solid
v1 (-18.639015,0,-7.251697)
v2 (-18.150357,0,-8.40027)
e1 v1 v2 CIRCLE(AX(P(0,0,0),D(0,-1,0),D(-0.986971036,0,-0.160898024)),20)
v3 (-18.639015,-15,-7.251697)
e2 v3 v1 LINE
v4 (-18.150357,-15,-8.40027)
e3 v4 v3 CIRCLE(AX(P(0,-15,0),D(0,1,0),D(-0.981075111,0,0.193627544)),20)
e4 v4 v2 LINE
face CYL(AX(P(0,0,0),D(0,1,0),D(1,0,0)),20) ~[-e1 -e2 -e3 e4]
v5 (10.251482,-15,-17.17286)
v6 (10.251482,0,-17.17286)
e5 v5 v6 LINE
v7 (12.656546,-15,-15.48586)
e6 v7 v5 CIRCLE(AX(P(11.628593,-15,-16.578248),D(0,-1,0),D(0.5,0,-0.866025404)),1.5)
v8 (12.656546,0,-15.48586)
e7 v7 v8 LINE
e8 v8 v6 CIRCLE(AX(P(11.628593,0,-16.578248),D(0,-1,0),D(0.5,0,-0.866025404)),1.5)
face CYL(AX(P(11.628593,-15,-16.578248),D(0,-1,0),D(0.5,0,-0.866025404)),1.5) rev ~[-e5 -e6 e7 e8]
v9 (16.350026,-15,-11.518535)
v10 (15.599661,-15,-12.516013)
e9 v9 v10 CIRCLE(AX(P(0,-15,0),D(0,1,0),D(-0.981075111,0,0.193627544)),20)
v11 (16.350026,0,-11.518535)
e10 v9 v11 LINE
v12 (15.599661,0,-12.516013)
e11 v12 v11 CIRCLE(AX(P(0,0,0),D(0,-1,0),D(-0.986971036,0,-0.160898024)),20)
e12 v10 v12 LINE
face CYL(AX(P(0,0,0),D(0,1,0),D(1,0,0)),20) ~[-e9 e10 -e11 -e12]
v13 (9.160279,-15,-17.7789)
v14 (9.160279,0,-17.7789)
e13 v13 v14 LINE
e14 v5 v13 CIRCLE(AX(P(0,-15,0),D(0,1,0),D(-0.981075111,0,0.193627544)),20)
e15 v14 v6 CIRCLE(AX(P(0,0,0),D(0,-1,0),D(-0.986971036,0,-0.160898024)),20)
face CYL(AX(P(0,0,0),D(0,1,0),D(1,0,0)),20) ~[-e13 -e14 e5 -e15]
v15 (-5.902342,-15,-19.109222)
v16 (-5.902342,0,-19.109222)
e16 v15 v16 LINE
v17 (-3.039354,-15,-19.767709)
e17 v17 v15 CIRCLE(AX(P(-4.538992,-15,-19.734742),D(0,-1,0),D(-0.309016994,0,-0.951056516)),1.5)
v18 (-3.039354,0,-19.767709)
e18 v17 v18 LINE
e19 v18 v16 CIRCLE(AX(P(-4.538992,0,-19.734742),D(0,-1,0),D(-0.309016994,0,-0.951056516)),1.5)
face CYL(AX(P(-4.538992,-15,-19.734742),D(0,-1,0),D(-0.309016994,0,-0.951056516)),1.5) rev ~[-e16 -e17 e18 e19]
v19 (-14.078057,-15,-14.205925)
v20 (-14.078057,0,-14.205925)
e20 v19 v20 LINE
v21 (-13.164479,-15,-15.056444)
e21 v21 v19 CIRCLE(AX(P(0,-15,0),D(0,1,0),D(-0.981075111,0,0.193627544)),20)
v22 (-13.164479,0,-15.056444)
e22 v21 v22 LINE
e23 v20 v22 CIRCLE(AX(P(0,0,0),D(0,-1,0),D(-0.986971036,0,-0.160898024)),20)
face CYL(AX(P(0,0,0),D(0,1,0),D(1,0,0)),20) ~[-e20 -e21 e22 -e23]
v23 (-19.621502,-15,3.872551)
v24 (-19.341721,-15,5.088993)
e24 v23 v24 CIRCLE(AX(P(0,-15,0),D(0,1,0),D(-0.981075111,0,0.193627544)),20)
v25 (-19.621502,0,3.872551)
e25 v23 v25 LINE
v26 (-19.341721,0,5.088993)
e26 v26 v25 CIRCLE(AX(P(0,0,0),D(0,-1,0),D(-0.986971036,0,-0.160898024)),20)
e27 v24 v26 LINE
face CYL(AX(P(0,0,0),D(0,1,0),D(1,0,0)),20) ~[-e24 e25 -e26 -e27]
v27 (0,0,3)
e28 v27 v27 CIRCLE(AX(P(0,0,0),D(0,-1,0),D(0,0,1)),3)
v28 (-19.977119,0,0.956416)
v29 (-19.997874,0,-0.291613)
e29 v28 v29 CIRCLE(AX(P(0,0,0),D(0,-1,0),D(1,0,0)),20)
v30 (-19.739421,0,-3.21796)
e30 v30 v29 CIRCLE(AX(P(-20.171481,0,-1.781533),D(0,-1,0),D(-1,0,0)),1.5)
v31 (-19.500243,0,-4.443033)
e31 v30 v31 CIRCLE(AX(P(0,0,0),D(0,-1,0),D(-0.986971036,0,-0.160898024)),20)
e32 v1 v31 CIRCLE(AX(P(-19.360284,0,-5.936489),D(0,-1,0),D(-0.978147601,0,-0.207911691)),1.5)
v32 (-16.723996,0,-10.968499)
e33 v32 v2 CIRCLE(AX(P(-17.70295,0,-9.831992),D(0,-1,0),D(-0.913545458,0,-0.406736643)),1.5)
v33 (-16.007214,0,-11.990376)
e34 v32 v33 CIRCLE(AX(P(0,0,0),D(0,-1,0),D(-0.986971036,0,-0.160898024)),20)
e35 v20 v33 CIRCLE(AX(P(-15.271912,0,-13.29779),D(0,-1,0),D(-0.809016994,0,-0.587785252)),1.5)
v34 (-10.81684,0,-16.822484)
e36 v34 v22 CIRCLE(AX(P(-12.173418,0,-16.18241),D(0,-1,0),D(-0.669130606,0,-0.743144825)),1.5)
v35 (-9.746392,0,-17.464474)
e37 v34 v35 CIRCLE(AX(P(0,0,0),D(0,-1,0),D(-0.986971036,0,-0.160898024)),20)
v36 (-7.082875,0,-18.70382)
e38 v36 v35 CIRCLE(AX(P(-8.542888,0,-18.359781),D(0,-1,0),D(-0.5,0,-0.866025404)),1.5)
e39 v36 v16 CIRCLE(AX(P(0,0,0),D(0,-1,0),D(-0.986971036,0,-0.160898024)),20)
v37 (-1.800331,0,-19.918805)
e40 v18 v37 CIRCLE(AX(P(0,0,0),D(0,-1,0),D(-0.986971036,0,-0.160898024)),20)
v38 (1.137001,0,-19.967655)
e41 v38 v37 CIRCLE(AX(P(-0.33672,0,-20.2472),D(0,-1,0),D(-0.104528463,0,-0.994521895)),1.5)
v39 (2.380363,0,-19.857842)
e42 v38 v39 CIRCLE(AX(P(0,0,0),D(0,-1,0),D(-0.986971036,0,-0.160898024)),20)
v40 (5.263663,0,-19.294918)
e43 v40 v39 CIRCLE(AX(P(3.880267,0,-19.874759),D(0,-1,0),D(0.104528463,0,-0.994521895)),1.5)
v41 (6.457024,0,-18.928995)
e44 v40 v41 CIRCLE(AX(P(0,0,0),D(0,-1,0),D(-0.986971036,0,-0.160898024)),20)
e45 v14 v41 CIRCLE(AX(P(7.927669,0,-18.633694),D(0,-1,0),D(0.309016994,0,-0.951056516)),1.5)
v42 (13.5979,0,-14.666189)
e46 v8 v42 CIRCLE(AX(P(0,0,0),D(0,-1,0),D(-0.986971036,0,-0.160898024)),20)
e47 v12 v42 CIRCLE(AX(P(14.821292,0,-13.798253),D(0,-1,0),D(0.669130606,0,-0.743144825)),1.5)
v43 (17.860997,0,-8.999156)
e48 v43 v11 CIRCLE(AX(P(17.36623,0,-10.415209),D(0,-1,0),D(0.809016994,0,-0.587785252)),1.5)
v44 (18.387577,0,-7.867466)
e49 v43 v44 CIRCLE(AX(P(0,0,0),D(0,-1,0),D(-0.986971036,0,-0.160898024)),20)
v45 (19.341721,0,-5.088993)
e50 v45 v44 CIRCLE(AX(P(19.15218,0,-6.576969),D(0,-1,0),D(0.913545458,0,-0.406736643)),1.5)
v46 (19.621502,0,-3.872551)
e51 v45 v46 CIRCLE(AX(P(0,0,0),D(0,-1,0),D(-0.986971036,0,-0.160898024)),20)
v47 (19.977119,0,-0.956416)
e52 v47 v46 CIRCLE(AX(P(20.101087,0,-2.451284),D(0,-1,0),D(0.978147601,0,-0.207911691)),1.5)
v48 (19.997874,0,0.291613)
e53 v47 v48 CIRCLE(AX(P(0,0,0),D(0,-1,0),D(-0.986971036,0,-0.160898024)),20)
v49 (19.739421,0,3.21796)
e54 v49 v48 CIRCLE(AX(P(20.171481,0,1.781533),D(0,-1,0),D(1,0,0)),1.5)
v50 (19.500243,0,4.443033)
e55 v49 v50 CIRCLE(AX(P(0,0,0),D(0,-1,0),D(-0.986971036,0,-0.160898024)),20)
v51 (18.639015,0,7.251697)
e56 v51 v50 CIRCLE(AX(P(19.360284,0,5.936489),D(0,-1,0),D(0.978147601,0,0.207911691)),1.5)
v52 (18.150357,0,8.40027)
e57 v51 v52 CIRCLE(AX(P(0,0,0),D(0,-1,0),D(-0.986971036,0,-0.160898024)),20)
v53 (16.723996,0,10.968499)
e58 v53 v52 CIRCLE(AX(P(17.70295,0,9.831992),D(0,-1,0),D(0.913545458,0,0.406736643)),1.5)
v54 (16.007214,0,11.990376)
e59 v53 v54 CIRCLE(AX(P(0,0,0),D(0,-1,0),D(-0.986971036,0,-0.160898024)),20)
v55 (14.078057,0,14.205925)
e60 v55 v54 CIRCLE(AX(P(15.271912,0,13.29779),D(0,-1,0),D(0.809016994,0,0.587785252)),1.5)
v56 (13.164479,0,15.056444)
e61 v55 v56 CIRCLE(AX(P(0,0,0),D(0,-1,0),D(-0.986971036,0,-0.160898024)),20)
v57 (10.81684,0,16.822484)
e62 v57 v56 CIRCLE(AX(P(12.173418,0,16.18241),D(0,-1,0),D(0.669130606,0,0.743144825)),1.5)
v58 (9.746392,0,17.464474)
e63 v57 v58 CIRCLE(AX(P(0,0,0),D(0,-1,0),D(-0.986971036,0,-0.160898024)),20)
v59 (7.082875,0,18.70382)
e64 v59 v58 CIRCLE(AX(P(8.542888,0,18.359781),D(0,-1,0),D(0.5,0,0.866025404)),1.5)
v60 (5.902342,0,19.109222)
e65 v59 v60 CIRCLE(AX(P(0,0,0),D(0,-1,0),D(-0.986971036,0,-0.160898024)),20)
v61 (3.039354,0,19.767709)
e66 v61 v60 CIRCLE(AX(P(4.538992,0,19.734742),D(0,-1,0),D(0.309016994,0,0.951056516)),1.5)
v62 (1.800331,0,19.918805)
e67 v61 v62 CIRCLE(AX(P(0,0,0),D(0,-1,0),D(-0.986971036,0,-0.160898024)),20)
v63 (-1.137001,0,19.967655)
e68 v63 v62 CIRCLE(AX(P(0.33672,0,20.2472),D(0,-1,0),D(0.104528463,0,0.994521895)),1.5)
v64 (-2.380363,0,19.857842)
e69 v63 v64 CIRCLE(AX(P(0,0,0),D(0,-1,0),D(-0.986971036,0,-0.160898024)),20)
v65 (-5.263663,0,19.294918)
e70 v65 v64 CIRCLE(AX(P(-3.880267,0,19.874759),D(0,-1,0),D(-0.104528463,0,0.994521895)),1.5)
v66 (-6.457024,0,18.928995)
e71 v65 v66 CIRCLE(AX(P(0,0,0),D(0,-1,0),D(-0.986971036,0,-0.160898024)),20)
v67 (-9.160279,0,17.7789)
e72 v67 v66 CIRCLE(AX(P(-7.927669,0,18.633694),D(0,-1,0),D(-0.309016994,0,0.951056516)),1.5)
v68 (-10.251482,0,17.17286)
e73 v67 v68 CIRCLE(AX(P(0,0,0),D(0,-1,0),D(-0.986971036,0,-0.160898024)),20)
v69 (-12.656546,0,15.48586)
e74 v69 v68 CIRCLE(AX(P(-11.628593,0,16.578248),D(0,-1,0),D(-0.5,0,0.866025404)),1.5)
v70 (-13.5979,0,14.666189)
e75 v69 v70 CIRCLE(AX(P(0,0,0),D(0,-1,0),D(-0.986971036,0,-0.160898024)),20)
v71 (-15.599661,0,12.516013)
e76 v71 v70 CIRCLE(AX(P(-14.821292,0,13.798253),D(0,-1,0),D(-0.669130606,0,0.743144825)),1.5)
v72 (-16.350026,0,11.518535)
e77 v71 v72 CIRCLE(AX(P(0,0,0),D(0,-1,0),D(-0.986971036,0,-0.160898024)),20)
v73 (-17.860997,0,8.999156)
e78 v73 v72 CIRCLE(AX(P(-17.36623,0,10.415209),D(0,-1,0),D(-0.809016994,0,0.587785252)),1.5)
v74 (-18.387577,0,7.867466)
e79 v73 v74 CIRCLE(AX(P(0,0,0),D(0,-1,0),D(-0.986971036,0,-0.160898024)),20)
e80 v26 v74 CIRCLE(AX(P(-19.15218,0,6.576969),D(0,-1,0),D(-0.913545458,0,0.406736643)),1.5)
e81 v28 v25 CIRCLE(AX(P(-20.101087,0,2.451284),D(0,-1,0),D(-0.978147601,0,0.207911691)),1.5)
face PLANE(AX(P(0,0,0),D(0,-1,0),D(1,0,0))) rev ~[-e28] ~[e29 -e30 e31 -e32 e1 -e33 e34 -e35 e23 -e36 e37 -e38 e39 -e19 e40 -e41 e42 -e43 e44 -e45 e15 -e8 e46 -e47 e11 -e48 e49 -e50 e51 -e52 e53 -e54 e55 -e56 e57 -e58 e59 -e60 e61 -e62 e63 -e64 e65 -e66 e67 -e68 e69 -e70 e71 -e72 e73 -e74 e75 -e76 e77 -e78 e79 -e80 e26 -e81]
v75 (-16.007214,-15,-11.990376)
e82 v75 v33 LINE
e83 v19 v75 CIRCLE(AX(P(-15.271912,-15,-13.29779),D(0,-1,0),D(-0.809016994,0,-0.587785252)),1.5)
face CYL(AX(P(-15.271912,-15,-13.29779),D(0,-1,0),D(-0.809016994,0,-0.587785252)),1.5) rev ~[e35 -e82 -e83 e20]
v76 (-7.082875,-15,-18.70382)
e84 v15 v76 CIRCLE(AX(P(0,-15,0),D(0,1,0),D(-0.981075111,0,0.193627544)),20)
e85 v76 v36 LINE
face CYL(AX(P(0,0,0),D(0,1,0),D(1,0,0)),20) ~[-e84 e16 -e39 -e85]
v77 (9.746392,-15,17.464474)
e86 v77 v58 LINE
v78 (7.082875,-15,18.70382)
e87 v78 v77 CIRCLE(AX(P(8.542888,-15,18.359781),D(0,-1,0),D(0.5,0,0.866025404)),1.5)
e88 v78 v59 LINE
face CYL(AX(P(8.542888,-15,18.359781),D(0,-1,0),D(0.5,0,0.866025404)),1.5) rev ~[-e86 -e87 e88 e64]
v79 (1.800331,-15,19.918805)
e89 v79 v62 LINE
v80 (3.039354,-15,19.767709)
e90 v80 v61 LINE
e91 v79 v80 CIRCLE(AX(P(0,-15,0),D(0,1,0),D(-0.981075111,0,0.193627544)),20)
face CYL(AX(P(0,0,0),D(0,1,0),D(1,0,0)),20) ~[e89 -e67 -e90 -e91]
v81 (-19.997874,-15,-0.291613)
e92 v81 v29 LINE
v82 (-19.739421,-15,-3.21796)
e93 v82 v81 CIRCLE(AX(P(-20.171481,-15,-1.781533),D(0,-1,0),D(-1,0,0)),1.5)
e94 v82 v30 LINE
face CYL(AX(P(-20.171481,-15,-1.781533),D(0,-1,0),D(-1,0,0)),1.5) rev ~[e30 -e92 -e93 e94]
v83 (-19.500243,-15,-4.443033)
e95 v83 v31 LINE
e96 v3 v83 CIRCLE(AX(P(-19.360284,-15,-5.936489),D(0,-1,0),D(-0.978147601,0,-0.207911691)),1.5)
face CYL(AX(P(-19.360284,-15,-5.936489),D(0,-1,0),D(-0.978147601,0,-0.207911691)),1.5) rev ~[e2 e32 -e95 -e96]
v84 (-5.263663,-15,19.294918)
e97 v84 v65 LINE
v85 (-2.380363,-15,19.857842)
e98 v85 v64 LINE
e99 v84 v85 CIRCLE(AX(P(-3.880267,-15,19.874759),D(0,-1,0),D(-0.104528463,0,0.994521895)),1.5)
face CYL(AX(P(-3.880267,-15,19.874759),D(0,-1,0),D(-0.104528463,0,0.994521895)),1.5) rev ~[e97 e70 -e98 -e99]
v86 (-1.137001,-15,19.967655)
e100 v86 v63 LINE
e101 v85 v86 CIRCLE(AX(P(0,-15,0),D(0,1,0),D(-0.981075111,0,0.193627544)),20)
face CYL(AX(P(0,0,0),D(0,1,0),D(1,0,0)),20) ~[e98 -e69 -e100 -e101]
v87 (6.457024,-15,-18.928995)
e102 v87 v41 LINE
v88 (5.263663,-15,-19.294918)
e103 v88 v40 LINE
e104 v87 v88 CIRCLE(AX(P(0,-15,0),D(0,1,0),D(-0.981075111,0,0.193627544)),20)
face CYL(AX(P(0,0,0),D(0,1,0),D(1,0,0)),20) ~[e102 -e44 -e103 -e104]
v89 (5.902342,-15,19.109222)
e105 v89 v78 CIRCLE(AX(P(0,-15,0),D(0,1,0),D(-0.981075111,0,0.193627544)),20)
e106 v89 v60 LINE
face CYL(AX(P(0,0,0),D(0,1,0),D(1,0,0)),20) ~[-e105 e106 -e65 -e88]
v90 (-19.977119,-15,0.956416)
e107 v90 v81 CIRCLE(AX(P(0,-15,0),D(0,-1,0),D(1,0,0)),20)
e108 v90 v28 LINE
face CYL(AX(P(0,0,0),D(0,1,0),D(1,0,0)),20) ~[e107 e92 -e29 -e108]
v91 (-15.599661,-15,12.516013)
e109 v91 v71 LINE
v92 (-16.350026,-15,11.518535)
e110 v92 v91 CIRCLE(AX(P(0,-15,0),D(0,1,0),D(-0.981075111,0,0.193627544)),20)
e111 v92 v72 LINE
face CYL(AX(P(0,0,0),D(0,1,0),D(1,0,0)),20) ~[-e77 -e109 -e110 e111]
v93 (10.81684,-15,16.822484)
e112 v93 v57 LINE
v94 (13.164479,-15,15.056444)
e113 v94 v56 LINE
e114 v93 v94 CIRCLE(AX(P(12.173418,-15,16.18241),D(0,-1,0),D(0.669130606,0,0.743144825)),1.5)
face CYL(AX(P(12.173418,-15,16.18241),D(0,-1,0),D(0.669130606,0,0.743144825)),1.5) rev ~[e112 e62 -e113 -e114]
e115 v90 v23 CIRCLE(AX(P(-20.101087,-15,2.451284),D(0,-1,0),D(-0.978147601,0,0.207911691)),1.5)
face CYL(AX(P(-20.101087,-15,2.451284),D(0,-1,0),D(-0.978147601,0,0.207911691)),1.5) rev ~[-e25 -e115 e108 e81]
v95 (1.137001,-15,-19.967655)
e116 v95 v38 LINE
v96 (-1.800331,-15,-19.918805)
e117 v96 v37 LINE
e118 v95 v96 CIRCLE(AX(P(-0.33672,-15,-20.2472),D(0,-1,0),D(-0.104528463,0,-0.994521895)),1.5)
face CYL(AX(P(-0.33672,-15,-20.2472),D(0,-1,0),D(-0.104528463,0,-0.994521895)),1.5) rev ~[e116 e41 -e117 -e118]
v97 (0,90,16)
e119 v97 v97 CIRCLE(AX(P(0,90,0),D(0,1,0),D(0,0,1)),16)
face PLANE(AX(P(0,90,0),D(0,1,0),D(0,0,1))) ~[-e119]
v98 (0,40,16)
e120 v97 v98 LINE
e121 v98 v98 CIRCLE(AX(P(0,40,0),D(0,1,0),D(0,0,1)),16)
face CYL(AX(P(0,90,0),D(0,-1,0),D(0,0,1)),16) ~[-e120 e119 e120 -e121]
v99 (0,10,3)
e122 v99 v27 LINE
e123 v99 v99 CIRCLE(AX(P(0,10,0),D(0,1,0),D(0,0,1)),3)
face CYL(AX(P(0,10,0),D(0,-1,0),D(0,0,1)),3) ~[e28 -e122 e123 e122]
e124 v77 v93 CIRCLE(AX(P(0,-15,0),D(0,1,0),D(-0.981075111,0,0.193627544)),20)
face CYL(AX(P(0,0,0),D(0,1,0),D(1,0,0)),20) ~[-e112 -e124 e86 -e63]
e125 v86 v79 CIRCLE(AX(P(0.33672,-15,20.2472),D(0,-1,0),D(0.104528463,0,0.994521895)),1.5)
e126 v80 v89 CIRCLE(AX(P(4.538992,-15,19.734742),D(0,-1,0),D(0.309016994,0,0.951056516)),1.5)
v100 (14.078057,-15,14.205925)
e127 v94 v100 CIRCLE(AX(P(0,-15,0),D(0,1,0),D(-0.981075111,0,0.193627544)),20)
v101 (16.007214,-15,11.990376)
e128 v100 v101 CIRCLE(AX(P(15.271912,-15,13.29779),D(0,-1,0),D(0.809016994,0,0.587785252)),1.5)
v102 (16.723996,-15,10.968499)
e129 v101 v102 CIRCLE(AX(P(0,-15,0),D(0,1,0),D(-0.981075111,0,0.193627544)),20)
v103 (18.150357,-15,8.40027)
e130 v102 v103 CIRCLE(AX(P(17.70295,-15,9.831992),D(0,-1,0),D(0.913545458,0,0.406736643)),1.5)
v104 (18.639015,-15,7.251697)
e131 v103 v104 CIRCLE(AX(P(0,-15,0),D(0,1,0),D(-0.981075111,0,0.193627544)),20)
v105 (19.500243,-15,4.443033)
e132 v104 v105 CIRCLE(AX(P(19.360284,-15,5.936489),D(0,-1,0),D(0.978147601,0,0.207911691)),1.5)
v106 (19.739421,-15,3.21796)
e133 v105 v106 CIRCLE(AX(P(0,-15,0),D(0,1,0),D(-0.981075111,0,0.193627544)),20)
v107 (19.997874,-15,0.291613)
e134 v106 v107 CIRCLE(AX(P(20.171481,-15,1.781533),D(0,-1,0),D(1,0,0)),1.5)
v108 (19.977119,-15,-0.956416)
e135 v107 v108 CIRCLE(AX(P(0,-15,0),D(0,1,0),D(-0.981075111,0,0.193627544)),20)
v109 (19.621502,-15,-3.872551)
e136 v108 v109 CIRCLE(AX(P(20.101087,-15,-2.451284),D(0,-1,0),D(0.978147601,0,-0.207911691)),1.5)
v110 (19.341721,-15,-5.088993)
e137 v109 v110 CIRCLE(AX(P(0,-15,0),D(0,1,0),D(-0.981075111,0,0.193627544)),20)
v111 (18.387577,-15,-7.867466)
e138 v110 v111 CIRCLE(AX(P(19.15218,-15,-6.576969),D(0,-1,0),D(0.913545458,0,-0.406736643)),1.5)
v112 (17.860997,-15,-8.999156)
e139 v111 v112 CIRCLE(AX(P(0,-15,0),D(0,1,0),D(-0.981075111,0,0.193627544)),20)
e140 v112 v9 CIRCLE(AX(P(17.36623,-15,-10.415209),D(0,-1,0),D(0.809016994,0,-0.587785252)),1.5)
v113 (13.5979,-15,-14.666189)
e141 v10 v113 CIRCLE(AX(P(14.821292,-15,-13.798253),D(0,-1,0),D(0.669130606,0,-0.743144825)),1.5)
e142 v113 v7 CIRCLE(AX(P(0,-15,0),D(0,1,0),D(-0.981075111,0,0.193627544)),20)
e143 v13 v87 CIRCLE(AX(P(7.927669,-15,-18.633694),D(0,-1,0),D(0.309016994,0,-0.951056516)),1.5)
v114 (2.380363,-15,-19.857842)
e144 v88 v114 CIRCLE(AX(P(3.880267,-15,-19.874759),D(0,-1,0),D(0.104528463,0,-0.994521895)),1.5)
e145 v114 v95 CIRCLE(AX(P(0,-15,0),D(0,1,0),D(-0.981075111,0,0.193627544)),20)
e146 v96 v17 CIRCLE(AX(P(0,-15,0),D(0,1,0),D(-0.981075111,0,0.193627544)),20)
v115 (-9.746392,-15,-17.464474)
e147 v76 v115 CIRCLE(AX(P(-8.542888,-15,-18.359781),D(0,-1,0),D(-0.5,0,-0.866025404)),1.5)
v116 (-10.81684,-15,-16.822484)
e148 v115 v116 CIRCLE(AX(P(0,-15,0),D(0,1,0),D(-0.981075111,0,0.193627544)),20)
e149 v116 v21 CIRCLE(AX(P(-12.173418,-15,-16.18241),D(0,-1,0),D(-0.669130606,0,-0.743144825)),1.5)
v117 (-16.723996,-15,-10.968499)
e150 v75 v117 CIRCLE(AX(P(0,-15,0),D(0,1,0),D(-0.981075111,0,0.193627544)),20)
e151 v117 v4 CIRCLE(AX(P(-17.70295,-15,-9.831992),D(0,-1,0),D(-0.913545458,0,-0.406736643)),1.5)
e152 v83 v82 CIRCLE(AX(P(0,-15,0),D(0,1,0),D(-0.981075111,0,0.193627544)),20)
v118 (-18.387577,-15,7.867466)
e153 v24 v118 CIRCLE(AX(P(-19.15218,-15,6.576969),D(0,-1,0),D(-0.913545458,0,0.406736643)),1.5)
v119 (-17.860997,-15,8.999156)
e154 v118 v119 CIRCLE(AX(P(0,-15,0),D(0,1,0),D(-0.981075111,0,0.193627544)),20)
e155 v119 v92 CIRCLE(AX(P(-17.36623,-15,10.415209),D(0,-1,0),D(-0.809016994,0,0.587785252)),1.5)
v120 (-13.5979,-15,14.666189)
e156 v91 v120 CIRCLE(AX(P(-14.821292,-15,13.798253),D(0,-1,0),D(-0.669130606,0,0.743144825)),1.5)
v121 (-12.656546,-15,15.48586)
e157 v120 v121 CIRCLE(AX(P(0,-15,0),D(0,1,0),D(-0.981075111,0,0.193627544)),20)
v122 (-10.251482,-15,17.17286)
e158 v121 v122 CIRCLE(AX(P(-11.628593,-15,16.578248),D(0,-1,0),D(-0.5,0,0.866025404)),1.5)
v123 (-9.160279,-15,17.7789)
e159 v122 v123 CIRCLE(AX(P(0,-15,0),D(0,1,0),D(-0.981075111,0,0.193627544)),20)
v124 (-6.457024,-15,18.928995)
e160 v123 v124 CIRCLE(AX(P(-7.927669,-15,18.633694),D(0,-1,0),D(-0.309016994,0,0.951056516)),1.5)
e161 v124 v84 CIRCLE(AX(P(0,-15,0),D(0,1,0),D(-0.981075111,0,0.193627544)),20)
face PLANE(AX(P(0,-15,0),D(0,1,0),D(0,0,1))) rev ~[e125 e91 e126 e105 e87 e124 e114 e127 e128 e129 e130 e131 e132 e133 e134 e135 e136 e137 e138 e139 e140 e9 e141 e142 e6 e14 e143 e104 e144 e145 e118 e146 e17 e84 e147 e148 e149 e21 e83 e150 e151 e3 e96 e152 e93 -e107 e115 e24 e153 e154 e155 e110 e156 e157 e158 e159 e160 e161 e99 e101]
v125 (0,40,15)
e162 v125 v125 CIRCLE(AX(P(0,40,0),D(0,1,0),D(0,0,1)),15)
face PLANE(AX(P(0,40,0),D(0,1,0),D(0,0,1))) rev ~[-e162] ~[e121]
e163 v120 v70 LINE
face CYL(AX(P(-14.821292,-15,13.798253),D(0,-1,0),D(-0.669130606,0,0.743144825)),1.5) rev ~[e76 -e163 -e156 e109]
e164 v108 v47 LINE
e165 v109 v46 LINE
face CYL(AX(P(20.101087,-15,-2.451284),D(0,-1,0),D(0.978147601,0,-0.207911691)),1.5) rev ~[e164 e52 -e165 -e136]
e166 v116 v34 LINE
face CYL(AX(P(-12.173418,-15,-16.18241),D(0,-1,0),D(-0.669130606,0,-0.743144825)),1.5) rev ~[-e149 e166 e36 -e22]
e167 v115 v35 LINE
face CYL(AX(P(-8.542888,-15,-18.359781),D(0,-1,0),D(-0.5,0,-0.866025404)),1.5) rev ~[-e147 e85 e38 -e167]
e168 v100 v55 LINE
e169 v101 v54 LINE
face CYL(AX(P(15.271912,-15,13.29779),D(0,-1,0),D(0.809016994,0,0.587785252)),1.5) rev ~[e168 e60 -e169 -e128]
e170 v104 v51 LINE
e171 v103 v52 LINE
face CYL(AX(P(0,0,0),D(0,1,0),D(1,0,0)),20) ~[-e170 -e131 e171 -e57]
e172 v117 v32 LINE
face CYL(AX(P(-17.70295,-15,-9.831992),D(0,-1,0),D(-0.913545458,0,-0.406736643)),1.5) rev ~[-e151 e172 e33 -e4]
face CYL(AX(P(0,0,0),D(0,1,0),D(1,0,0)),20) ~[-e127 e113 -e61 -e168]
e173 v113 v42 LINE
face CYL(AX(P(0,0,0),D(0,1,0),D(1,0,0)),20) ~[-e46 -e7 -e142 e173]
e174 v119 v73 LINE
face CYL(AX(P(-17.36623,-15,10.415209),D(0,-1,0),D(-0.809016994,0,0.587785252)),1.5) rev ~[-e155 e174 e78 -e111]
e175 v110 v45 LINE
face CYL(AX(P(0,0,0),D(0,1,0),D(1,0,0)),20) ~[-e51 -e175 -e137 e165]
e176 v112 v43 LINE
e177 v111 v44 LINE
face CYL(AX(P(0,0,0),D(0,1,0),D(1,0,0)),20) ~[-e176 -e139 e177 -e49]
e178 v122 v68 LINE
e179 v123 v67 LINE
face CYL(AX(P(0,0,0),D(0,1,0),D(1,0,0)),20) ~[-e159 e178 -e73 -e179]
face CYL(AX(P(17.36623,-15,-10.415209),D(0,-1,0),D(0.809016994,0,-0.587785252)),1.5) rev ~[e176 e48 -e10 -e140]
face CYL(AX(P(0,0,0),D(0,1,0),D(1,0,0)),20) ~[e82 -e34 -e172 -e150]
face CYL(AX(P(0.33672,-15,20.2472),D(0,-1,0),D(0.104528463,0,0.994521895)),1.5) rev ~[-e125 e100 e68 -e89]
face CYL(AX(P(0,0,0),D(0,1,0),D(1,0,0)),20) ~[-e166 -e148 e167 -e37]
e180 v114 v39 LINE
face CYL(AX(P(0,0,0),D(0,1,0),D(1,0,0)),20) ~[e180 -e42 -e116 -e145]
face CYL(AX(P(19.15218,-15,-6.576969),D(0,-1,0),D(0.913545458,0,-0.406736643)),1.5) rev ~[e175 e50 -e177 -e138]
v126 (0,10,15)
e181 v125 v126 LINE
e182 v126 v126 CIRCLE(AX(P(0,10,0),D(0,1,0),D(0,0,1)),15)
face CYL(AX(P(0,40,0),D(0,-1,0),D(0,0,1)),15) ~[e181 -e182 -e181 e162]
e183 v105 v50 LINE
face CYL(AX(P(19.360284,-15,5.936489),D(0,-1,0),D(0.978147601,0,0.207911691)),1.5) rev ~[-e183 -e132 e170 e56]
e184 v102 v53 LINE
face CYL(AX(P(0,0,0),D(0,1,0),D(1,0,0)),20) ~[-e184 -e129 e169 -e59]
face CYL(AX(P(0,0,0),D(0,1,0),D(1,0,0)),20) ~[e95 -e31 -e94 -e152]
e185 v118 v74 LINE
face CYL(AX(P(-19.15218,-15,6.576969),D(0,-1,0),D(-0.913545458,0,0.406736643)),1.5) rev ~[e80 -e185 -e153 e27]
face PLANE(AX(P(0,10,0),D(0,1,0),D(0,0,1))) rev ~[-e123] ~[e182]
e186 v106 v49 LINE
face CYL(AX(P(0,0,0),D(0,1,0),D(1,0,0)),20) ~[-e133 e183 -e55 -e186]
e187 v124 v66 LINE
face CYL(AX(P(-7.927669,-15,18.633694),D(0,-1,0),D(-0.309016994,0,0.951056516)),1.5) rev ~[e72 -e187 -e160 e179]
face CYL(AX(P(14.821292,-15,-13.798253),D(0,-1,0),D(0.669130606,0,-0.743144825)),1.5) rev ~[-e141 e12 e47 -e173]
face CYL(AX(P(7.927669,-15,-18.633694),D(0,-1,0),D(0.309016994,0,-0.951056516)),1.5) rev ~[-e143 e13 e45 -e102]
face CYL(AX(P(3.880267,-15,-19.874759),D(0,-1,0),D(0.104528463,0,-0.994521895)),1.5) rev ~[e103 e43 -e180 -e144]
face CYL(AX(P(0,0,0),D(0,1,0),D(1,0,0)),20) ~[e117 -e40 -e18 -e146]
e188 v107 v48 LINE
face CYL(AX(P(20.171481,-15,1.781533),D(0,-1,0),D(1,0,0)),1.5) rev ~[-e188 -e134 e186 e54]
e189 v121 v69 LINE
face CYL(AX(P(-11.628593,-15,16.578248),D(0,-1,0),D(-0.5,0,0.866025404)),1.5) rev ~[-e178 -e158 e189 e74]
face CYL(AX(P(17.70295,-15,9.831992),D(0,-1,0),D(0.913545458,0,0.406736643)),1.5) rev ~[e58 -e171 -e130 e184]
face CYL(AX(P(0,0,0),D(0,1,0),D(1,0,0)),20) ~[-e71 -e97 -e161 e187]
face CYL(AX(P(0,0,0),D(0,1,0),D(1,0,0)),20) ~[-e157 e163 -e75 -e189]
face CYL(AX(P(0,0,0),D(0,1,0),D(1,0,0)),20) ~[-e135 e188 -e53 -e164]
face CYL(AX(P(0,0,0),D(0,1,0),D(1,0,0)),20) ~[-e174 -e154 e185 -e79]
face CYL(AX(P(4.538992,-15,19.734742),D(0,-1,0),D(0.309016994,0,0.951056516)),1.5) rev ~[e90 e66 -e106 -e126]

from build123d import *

# Parameters (mm, degrees)
F0_R     = 20
F0_R_2   = 3
F1_DEPTH = 15
F2_R     = 1.5
F3_DEPTH = 15
F4_COUNT = 30


with BuildPart() as f1:
    # F0 (on Front) → F1 (new body)
    with BuildSketch(Plane.XZ):
        Circle(F0_R)
        Circle(F0_R_2, mode=Mode.SUBTRACT)
    extrude(amount=F1_DEPTH)


with BuildPart() as f3:
    # F2 (on face) → F3 (new body, through all)
    with BuildSketch(Plane.XZ.offset(15)):
        with Locations((20.171481, 1.781533)):
            Circle(F2_R)
    extrude(amount=-F3_DEPTH)


with BuildPart() as f4_1:
    # F4: instance of F3
    add(f3.part.rotate(Axis((0, 0, 0), (0, 1, 0)), 1 * 360 / F4_COUNT))


with BuildPart() as f4_2:
    # F4: instance of F3
    add(f3.part.rotate(Axis((0, 0, 0), (0, 1, 0)), 2 * 360 / F4_COUNT))


with BuildPart() as f4_3:
    # F4: instance of F3
    add(f3.part.rotate(Axis((0, 0, 0), (0, 1, 0)), 3 * 360 / F4_COUNT))


with BuildPart() as f4_4:
    # F4: instance of F3
    add(f3.part.rotate(Axis((0, 0, 0), (0, 1, 0)), 4 * 360 / F4_COUNT))


with BuildPart() as f4_5:
    # F4: instance of F3
    add(f3.part.rotate(Axis((0, 0, 0), (0, 1, 0)), 5 * 360 / F4_COUNT))


with BuildPart() as f4_6:
    # F4: instance of F3
    add(f3.part.rotate(Axis((0, 0, 0), (0, 1, 0)), 6 * 360 / F4_COUNT))


with BuildPart() as f4_7:
    # F4: instance of F3
    add(f3.part.rotate(Axis((0, 0, 0), (0, 1, 0)), 7 * 360 / F4_COUNT))


with BuildPart() as f4_8:
    # F4: instance of F3
    add(f3.part.rotate(Axis((0, 0, 0), (0, 1, 0)), 8 * 360 / F4_COUNT))


with BuildPart() as f4_9:
    # F4: instance of F3
    add(f3.part.rotate(Axis((0, 0, 0), (0, 1, 0)), 9 * 360 / F4_COUNT))


with BuildPart() as f4_10:
    # F4: instance of F3
    add(f3.part.rotate(Axis((0, 0, 0), (0, 1, 0)), 10 * 360 / F4_COUNT))


with BuildPart() as f4_11:
    # F4: instance of F3
    add(f3.part.rotate(Axis((0, 0, 0), (0, 1, 0)), 11 * 360 / F4_COUNT))


with BuildPart() as f4_12:
    # F4: instance of F3
    add(f3.part.rotate(Axis((0, 0, 0), (0, 1, 0)), 12 * 360 / F4_COUNT))


with BuildPart() as f4_13:
    # F4: instance of F3
    add(f3.part.rotate(Axis((0, 0, 0), (0, 1, 0)), 13 * 360 / F4_COUNT))


with BuildPart() as f4_14:
    # F4: instance of F3
    add(f3.part.rotate(Axis((0, 0, 0), (0, 1, 0)), 14 * 360 / F4_COUNT))


with BuildPart() as f4_15:
    # F4: instance of F3
    add(f3.part.rotate(Axis((0, 0, 0), (0, 1, 0)), 15 * 360 / F4_COUNT))


with BuildPart() as f4_16:
    # F4: instance of F3
    add(f3.part.rotate(Axis((0, 0, 0), (0, 1, 0)), 16 * 360 / F4_COUNT))


with BuildPart() as f4_17:
    # F4: instance of F3
    add(f3.part.rotate(Axis((0, 0, 0), (0, 1, 0)), 17 * 360 / F4_COUNT))


with BuildPart() as f4_18:
    # F4: instance of F3
    add(f3.part.rotate(Axis((0, 0, 0), (0, 1, 0)), 18 * 360 / F4_COUNT))


with BuildPart() as f4_19:
    # F4: instance of F3
    add(f3.part.rotate(Axis((0, 0, 0), (0, 1, 0)), 19 * 360 / F4_COUNT))


with BuildPart() as f4_20:
    # F4: instance of F3
    add(f3.part.rotate(Axis((0, 0, 0), (0, 1, 0)), 20 * 360 / F4_COUNT))


with BuildPart() as f4_21:
    # F4: instance of F3
    add(f3.part.rotate(Axis((0, 0, 0), (0, 1, 0)), 21 * 360 / F4_COUNT))


with BuildPart() as f4_22:
    # F4: instance of F3
    add(f3.part.rotate(Axis((0, 0, 0), (0, 1, 0)), 22 * 360 / F4_COUNT))


with BuildPart() as f4_23:
    # F4: instance of F3
    add(f3.part.rotate(Axis((0, 0, 0), (0, 1, 0)), 23 * 360 / F4_COUNT))


with BuildPart() as f4_24:
    # F4: instance of F3
    add(f3.part.rotate(Axis((0, 0, 0), (0, 1, 0)), 24 * 360 / F4_COUNT))


with BuildPart() as f4_25:
    # F4: instance of F3
    add(f3.part.rotate(Axis((0, 0, 0), (0, 1, 0)), 25 * 360 / F4_COUNT))


with BuildPart() as f4_26:
    # F4: instance of F3
    add(f3.part.rotate(Axis((0, 0, 0), (0, 1, 0)), 26 * 360 / F4_COUNT))


with BuildPart() as f4_27:
    # F4: instance of F3
    add(f3.part.rotate(Axis((0, 0, 0), (0, 1, 0)), 27 * 360 / F4_COUNT))


with BuildPart() as f4_28:
    # F4: instance of F3
    add(f3.part.rotate(Axis((0, 0, 0), (0, 1, 0)), 28 * 360 / F4_COUNT))


with BuildPart() as f4_29:
    # F4: instance of F3
    add(f3.part.rotate(Axis((0, 0, 0), (0, 1, 0)), 29 * 360 / F4_COUNT))


with BuildPart() as f1_1:
    add(f1.part)

    # F5: cut F4_15, F4_16, F4_17, F4_18, F4_19, F4_20, F4_21, F4_23, F4_25, F4_22, F4_24, F4_26, F4_27, F4_28, F4_29, F3, F4_1, F4_2, F4_3, F4_4, F4_5, F4_6, F4_7, F4_8, F4_9, F4_10, F4_11, F4_12, F4_13, F4_14
    add(f4_15.part, mode=Mode.SUBTRACT)
    add(f4_16.part, mode=Mode.SUBTRACT)
    add(f4_17.part, mode=Mode.SUBTRACT)
    add(f4_18.part, mode=Mode.SUBTRACT)
    add(f4_19.part, mode=Mode.SUBTRACT)
    add(f4_20.part, mode=Mode.SUBTRACT)
    add(f4_21.part, mode=Mode.SUBTRACT)
    add(f4_23.part, mode=Mode.SUBTRACT)
    add(f4_25.part, mode=Mode.SUBTRACT)
    add(f4_22.part, mode=Mode.SUBTRACT)
    add(f4_24.part, mode=Mode.SUBTRACT)
    add(f4_26.part, mode=Mode.SUBTRACT)
    add(f4_27.part, mode=Mode.SUBTRACT)
    add(f4_28.part, mode=Mode.SUBTRACT)
    add(f4_29.part, mode=Mode.SUBTRACT)
    add(f3.part, mode=Mode.SUBTRACT)
    add(f4_1.part, mode=Mode.SUBTRACT)
    add(f4_2.part, mode=Mode.SUBTRACT)
    add(f4_3.part, mode=Mode.SUBTRACT)
    add(f4_4.part, mode=Mode.SUBTRACT)
    add(f4_5.part, mode=Mode.SUBTRACT)
    add(f4_6.part, mode=Mode.SUBTRACT)
    add(f4_7.part, mode=Mode.SUBTRACT)
    add(f4_8.part, mode=Mode.SUBTRACT)
    add(f4_9.part, mode=Mode.SUBTRACT)
    add(f4_10.part, mode=Mode.SUBTRACT)
    add(f4_11.part, mode=Mode.SUBTRACT)
    add(f4_12.part, mode=Mode.SUBTRACT)
    add(f4_13.part, mode=Mode.SUBTRACT)
    add(f4_14.part, mode=Mode.SUBTRACT)

    # F6 (on Right) → F7 (revolve)
    with BuildSketch(Plane.YZ):
        Polygon((-15, 3), (-15, 0), (90, 0), (90, 16), (40, 16), (40, 15), (10, 15), (10, 3), align=None)
    revolve(axis=Axis((0, 37.5, 0), (0, 1, 0)))


solid = f1_1.part
